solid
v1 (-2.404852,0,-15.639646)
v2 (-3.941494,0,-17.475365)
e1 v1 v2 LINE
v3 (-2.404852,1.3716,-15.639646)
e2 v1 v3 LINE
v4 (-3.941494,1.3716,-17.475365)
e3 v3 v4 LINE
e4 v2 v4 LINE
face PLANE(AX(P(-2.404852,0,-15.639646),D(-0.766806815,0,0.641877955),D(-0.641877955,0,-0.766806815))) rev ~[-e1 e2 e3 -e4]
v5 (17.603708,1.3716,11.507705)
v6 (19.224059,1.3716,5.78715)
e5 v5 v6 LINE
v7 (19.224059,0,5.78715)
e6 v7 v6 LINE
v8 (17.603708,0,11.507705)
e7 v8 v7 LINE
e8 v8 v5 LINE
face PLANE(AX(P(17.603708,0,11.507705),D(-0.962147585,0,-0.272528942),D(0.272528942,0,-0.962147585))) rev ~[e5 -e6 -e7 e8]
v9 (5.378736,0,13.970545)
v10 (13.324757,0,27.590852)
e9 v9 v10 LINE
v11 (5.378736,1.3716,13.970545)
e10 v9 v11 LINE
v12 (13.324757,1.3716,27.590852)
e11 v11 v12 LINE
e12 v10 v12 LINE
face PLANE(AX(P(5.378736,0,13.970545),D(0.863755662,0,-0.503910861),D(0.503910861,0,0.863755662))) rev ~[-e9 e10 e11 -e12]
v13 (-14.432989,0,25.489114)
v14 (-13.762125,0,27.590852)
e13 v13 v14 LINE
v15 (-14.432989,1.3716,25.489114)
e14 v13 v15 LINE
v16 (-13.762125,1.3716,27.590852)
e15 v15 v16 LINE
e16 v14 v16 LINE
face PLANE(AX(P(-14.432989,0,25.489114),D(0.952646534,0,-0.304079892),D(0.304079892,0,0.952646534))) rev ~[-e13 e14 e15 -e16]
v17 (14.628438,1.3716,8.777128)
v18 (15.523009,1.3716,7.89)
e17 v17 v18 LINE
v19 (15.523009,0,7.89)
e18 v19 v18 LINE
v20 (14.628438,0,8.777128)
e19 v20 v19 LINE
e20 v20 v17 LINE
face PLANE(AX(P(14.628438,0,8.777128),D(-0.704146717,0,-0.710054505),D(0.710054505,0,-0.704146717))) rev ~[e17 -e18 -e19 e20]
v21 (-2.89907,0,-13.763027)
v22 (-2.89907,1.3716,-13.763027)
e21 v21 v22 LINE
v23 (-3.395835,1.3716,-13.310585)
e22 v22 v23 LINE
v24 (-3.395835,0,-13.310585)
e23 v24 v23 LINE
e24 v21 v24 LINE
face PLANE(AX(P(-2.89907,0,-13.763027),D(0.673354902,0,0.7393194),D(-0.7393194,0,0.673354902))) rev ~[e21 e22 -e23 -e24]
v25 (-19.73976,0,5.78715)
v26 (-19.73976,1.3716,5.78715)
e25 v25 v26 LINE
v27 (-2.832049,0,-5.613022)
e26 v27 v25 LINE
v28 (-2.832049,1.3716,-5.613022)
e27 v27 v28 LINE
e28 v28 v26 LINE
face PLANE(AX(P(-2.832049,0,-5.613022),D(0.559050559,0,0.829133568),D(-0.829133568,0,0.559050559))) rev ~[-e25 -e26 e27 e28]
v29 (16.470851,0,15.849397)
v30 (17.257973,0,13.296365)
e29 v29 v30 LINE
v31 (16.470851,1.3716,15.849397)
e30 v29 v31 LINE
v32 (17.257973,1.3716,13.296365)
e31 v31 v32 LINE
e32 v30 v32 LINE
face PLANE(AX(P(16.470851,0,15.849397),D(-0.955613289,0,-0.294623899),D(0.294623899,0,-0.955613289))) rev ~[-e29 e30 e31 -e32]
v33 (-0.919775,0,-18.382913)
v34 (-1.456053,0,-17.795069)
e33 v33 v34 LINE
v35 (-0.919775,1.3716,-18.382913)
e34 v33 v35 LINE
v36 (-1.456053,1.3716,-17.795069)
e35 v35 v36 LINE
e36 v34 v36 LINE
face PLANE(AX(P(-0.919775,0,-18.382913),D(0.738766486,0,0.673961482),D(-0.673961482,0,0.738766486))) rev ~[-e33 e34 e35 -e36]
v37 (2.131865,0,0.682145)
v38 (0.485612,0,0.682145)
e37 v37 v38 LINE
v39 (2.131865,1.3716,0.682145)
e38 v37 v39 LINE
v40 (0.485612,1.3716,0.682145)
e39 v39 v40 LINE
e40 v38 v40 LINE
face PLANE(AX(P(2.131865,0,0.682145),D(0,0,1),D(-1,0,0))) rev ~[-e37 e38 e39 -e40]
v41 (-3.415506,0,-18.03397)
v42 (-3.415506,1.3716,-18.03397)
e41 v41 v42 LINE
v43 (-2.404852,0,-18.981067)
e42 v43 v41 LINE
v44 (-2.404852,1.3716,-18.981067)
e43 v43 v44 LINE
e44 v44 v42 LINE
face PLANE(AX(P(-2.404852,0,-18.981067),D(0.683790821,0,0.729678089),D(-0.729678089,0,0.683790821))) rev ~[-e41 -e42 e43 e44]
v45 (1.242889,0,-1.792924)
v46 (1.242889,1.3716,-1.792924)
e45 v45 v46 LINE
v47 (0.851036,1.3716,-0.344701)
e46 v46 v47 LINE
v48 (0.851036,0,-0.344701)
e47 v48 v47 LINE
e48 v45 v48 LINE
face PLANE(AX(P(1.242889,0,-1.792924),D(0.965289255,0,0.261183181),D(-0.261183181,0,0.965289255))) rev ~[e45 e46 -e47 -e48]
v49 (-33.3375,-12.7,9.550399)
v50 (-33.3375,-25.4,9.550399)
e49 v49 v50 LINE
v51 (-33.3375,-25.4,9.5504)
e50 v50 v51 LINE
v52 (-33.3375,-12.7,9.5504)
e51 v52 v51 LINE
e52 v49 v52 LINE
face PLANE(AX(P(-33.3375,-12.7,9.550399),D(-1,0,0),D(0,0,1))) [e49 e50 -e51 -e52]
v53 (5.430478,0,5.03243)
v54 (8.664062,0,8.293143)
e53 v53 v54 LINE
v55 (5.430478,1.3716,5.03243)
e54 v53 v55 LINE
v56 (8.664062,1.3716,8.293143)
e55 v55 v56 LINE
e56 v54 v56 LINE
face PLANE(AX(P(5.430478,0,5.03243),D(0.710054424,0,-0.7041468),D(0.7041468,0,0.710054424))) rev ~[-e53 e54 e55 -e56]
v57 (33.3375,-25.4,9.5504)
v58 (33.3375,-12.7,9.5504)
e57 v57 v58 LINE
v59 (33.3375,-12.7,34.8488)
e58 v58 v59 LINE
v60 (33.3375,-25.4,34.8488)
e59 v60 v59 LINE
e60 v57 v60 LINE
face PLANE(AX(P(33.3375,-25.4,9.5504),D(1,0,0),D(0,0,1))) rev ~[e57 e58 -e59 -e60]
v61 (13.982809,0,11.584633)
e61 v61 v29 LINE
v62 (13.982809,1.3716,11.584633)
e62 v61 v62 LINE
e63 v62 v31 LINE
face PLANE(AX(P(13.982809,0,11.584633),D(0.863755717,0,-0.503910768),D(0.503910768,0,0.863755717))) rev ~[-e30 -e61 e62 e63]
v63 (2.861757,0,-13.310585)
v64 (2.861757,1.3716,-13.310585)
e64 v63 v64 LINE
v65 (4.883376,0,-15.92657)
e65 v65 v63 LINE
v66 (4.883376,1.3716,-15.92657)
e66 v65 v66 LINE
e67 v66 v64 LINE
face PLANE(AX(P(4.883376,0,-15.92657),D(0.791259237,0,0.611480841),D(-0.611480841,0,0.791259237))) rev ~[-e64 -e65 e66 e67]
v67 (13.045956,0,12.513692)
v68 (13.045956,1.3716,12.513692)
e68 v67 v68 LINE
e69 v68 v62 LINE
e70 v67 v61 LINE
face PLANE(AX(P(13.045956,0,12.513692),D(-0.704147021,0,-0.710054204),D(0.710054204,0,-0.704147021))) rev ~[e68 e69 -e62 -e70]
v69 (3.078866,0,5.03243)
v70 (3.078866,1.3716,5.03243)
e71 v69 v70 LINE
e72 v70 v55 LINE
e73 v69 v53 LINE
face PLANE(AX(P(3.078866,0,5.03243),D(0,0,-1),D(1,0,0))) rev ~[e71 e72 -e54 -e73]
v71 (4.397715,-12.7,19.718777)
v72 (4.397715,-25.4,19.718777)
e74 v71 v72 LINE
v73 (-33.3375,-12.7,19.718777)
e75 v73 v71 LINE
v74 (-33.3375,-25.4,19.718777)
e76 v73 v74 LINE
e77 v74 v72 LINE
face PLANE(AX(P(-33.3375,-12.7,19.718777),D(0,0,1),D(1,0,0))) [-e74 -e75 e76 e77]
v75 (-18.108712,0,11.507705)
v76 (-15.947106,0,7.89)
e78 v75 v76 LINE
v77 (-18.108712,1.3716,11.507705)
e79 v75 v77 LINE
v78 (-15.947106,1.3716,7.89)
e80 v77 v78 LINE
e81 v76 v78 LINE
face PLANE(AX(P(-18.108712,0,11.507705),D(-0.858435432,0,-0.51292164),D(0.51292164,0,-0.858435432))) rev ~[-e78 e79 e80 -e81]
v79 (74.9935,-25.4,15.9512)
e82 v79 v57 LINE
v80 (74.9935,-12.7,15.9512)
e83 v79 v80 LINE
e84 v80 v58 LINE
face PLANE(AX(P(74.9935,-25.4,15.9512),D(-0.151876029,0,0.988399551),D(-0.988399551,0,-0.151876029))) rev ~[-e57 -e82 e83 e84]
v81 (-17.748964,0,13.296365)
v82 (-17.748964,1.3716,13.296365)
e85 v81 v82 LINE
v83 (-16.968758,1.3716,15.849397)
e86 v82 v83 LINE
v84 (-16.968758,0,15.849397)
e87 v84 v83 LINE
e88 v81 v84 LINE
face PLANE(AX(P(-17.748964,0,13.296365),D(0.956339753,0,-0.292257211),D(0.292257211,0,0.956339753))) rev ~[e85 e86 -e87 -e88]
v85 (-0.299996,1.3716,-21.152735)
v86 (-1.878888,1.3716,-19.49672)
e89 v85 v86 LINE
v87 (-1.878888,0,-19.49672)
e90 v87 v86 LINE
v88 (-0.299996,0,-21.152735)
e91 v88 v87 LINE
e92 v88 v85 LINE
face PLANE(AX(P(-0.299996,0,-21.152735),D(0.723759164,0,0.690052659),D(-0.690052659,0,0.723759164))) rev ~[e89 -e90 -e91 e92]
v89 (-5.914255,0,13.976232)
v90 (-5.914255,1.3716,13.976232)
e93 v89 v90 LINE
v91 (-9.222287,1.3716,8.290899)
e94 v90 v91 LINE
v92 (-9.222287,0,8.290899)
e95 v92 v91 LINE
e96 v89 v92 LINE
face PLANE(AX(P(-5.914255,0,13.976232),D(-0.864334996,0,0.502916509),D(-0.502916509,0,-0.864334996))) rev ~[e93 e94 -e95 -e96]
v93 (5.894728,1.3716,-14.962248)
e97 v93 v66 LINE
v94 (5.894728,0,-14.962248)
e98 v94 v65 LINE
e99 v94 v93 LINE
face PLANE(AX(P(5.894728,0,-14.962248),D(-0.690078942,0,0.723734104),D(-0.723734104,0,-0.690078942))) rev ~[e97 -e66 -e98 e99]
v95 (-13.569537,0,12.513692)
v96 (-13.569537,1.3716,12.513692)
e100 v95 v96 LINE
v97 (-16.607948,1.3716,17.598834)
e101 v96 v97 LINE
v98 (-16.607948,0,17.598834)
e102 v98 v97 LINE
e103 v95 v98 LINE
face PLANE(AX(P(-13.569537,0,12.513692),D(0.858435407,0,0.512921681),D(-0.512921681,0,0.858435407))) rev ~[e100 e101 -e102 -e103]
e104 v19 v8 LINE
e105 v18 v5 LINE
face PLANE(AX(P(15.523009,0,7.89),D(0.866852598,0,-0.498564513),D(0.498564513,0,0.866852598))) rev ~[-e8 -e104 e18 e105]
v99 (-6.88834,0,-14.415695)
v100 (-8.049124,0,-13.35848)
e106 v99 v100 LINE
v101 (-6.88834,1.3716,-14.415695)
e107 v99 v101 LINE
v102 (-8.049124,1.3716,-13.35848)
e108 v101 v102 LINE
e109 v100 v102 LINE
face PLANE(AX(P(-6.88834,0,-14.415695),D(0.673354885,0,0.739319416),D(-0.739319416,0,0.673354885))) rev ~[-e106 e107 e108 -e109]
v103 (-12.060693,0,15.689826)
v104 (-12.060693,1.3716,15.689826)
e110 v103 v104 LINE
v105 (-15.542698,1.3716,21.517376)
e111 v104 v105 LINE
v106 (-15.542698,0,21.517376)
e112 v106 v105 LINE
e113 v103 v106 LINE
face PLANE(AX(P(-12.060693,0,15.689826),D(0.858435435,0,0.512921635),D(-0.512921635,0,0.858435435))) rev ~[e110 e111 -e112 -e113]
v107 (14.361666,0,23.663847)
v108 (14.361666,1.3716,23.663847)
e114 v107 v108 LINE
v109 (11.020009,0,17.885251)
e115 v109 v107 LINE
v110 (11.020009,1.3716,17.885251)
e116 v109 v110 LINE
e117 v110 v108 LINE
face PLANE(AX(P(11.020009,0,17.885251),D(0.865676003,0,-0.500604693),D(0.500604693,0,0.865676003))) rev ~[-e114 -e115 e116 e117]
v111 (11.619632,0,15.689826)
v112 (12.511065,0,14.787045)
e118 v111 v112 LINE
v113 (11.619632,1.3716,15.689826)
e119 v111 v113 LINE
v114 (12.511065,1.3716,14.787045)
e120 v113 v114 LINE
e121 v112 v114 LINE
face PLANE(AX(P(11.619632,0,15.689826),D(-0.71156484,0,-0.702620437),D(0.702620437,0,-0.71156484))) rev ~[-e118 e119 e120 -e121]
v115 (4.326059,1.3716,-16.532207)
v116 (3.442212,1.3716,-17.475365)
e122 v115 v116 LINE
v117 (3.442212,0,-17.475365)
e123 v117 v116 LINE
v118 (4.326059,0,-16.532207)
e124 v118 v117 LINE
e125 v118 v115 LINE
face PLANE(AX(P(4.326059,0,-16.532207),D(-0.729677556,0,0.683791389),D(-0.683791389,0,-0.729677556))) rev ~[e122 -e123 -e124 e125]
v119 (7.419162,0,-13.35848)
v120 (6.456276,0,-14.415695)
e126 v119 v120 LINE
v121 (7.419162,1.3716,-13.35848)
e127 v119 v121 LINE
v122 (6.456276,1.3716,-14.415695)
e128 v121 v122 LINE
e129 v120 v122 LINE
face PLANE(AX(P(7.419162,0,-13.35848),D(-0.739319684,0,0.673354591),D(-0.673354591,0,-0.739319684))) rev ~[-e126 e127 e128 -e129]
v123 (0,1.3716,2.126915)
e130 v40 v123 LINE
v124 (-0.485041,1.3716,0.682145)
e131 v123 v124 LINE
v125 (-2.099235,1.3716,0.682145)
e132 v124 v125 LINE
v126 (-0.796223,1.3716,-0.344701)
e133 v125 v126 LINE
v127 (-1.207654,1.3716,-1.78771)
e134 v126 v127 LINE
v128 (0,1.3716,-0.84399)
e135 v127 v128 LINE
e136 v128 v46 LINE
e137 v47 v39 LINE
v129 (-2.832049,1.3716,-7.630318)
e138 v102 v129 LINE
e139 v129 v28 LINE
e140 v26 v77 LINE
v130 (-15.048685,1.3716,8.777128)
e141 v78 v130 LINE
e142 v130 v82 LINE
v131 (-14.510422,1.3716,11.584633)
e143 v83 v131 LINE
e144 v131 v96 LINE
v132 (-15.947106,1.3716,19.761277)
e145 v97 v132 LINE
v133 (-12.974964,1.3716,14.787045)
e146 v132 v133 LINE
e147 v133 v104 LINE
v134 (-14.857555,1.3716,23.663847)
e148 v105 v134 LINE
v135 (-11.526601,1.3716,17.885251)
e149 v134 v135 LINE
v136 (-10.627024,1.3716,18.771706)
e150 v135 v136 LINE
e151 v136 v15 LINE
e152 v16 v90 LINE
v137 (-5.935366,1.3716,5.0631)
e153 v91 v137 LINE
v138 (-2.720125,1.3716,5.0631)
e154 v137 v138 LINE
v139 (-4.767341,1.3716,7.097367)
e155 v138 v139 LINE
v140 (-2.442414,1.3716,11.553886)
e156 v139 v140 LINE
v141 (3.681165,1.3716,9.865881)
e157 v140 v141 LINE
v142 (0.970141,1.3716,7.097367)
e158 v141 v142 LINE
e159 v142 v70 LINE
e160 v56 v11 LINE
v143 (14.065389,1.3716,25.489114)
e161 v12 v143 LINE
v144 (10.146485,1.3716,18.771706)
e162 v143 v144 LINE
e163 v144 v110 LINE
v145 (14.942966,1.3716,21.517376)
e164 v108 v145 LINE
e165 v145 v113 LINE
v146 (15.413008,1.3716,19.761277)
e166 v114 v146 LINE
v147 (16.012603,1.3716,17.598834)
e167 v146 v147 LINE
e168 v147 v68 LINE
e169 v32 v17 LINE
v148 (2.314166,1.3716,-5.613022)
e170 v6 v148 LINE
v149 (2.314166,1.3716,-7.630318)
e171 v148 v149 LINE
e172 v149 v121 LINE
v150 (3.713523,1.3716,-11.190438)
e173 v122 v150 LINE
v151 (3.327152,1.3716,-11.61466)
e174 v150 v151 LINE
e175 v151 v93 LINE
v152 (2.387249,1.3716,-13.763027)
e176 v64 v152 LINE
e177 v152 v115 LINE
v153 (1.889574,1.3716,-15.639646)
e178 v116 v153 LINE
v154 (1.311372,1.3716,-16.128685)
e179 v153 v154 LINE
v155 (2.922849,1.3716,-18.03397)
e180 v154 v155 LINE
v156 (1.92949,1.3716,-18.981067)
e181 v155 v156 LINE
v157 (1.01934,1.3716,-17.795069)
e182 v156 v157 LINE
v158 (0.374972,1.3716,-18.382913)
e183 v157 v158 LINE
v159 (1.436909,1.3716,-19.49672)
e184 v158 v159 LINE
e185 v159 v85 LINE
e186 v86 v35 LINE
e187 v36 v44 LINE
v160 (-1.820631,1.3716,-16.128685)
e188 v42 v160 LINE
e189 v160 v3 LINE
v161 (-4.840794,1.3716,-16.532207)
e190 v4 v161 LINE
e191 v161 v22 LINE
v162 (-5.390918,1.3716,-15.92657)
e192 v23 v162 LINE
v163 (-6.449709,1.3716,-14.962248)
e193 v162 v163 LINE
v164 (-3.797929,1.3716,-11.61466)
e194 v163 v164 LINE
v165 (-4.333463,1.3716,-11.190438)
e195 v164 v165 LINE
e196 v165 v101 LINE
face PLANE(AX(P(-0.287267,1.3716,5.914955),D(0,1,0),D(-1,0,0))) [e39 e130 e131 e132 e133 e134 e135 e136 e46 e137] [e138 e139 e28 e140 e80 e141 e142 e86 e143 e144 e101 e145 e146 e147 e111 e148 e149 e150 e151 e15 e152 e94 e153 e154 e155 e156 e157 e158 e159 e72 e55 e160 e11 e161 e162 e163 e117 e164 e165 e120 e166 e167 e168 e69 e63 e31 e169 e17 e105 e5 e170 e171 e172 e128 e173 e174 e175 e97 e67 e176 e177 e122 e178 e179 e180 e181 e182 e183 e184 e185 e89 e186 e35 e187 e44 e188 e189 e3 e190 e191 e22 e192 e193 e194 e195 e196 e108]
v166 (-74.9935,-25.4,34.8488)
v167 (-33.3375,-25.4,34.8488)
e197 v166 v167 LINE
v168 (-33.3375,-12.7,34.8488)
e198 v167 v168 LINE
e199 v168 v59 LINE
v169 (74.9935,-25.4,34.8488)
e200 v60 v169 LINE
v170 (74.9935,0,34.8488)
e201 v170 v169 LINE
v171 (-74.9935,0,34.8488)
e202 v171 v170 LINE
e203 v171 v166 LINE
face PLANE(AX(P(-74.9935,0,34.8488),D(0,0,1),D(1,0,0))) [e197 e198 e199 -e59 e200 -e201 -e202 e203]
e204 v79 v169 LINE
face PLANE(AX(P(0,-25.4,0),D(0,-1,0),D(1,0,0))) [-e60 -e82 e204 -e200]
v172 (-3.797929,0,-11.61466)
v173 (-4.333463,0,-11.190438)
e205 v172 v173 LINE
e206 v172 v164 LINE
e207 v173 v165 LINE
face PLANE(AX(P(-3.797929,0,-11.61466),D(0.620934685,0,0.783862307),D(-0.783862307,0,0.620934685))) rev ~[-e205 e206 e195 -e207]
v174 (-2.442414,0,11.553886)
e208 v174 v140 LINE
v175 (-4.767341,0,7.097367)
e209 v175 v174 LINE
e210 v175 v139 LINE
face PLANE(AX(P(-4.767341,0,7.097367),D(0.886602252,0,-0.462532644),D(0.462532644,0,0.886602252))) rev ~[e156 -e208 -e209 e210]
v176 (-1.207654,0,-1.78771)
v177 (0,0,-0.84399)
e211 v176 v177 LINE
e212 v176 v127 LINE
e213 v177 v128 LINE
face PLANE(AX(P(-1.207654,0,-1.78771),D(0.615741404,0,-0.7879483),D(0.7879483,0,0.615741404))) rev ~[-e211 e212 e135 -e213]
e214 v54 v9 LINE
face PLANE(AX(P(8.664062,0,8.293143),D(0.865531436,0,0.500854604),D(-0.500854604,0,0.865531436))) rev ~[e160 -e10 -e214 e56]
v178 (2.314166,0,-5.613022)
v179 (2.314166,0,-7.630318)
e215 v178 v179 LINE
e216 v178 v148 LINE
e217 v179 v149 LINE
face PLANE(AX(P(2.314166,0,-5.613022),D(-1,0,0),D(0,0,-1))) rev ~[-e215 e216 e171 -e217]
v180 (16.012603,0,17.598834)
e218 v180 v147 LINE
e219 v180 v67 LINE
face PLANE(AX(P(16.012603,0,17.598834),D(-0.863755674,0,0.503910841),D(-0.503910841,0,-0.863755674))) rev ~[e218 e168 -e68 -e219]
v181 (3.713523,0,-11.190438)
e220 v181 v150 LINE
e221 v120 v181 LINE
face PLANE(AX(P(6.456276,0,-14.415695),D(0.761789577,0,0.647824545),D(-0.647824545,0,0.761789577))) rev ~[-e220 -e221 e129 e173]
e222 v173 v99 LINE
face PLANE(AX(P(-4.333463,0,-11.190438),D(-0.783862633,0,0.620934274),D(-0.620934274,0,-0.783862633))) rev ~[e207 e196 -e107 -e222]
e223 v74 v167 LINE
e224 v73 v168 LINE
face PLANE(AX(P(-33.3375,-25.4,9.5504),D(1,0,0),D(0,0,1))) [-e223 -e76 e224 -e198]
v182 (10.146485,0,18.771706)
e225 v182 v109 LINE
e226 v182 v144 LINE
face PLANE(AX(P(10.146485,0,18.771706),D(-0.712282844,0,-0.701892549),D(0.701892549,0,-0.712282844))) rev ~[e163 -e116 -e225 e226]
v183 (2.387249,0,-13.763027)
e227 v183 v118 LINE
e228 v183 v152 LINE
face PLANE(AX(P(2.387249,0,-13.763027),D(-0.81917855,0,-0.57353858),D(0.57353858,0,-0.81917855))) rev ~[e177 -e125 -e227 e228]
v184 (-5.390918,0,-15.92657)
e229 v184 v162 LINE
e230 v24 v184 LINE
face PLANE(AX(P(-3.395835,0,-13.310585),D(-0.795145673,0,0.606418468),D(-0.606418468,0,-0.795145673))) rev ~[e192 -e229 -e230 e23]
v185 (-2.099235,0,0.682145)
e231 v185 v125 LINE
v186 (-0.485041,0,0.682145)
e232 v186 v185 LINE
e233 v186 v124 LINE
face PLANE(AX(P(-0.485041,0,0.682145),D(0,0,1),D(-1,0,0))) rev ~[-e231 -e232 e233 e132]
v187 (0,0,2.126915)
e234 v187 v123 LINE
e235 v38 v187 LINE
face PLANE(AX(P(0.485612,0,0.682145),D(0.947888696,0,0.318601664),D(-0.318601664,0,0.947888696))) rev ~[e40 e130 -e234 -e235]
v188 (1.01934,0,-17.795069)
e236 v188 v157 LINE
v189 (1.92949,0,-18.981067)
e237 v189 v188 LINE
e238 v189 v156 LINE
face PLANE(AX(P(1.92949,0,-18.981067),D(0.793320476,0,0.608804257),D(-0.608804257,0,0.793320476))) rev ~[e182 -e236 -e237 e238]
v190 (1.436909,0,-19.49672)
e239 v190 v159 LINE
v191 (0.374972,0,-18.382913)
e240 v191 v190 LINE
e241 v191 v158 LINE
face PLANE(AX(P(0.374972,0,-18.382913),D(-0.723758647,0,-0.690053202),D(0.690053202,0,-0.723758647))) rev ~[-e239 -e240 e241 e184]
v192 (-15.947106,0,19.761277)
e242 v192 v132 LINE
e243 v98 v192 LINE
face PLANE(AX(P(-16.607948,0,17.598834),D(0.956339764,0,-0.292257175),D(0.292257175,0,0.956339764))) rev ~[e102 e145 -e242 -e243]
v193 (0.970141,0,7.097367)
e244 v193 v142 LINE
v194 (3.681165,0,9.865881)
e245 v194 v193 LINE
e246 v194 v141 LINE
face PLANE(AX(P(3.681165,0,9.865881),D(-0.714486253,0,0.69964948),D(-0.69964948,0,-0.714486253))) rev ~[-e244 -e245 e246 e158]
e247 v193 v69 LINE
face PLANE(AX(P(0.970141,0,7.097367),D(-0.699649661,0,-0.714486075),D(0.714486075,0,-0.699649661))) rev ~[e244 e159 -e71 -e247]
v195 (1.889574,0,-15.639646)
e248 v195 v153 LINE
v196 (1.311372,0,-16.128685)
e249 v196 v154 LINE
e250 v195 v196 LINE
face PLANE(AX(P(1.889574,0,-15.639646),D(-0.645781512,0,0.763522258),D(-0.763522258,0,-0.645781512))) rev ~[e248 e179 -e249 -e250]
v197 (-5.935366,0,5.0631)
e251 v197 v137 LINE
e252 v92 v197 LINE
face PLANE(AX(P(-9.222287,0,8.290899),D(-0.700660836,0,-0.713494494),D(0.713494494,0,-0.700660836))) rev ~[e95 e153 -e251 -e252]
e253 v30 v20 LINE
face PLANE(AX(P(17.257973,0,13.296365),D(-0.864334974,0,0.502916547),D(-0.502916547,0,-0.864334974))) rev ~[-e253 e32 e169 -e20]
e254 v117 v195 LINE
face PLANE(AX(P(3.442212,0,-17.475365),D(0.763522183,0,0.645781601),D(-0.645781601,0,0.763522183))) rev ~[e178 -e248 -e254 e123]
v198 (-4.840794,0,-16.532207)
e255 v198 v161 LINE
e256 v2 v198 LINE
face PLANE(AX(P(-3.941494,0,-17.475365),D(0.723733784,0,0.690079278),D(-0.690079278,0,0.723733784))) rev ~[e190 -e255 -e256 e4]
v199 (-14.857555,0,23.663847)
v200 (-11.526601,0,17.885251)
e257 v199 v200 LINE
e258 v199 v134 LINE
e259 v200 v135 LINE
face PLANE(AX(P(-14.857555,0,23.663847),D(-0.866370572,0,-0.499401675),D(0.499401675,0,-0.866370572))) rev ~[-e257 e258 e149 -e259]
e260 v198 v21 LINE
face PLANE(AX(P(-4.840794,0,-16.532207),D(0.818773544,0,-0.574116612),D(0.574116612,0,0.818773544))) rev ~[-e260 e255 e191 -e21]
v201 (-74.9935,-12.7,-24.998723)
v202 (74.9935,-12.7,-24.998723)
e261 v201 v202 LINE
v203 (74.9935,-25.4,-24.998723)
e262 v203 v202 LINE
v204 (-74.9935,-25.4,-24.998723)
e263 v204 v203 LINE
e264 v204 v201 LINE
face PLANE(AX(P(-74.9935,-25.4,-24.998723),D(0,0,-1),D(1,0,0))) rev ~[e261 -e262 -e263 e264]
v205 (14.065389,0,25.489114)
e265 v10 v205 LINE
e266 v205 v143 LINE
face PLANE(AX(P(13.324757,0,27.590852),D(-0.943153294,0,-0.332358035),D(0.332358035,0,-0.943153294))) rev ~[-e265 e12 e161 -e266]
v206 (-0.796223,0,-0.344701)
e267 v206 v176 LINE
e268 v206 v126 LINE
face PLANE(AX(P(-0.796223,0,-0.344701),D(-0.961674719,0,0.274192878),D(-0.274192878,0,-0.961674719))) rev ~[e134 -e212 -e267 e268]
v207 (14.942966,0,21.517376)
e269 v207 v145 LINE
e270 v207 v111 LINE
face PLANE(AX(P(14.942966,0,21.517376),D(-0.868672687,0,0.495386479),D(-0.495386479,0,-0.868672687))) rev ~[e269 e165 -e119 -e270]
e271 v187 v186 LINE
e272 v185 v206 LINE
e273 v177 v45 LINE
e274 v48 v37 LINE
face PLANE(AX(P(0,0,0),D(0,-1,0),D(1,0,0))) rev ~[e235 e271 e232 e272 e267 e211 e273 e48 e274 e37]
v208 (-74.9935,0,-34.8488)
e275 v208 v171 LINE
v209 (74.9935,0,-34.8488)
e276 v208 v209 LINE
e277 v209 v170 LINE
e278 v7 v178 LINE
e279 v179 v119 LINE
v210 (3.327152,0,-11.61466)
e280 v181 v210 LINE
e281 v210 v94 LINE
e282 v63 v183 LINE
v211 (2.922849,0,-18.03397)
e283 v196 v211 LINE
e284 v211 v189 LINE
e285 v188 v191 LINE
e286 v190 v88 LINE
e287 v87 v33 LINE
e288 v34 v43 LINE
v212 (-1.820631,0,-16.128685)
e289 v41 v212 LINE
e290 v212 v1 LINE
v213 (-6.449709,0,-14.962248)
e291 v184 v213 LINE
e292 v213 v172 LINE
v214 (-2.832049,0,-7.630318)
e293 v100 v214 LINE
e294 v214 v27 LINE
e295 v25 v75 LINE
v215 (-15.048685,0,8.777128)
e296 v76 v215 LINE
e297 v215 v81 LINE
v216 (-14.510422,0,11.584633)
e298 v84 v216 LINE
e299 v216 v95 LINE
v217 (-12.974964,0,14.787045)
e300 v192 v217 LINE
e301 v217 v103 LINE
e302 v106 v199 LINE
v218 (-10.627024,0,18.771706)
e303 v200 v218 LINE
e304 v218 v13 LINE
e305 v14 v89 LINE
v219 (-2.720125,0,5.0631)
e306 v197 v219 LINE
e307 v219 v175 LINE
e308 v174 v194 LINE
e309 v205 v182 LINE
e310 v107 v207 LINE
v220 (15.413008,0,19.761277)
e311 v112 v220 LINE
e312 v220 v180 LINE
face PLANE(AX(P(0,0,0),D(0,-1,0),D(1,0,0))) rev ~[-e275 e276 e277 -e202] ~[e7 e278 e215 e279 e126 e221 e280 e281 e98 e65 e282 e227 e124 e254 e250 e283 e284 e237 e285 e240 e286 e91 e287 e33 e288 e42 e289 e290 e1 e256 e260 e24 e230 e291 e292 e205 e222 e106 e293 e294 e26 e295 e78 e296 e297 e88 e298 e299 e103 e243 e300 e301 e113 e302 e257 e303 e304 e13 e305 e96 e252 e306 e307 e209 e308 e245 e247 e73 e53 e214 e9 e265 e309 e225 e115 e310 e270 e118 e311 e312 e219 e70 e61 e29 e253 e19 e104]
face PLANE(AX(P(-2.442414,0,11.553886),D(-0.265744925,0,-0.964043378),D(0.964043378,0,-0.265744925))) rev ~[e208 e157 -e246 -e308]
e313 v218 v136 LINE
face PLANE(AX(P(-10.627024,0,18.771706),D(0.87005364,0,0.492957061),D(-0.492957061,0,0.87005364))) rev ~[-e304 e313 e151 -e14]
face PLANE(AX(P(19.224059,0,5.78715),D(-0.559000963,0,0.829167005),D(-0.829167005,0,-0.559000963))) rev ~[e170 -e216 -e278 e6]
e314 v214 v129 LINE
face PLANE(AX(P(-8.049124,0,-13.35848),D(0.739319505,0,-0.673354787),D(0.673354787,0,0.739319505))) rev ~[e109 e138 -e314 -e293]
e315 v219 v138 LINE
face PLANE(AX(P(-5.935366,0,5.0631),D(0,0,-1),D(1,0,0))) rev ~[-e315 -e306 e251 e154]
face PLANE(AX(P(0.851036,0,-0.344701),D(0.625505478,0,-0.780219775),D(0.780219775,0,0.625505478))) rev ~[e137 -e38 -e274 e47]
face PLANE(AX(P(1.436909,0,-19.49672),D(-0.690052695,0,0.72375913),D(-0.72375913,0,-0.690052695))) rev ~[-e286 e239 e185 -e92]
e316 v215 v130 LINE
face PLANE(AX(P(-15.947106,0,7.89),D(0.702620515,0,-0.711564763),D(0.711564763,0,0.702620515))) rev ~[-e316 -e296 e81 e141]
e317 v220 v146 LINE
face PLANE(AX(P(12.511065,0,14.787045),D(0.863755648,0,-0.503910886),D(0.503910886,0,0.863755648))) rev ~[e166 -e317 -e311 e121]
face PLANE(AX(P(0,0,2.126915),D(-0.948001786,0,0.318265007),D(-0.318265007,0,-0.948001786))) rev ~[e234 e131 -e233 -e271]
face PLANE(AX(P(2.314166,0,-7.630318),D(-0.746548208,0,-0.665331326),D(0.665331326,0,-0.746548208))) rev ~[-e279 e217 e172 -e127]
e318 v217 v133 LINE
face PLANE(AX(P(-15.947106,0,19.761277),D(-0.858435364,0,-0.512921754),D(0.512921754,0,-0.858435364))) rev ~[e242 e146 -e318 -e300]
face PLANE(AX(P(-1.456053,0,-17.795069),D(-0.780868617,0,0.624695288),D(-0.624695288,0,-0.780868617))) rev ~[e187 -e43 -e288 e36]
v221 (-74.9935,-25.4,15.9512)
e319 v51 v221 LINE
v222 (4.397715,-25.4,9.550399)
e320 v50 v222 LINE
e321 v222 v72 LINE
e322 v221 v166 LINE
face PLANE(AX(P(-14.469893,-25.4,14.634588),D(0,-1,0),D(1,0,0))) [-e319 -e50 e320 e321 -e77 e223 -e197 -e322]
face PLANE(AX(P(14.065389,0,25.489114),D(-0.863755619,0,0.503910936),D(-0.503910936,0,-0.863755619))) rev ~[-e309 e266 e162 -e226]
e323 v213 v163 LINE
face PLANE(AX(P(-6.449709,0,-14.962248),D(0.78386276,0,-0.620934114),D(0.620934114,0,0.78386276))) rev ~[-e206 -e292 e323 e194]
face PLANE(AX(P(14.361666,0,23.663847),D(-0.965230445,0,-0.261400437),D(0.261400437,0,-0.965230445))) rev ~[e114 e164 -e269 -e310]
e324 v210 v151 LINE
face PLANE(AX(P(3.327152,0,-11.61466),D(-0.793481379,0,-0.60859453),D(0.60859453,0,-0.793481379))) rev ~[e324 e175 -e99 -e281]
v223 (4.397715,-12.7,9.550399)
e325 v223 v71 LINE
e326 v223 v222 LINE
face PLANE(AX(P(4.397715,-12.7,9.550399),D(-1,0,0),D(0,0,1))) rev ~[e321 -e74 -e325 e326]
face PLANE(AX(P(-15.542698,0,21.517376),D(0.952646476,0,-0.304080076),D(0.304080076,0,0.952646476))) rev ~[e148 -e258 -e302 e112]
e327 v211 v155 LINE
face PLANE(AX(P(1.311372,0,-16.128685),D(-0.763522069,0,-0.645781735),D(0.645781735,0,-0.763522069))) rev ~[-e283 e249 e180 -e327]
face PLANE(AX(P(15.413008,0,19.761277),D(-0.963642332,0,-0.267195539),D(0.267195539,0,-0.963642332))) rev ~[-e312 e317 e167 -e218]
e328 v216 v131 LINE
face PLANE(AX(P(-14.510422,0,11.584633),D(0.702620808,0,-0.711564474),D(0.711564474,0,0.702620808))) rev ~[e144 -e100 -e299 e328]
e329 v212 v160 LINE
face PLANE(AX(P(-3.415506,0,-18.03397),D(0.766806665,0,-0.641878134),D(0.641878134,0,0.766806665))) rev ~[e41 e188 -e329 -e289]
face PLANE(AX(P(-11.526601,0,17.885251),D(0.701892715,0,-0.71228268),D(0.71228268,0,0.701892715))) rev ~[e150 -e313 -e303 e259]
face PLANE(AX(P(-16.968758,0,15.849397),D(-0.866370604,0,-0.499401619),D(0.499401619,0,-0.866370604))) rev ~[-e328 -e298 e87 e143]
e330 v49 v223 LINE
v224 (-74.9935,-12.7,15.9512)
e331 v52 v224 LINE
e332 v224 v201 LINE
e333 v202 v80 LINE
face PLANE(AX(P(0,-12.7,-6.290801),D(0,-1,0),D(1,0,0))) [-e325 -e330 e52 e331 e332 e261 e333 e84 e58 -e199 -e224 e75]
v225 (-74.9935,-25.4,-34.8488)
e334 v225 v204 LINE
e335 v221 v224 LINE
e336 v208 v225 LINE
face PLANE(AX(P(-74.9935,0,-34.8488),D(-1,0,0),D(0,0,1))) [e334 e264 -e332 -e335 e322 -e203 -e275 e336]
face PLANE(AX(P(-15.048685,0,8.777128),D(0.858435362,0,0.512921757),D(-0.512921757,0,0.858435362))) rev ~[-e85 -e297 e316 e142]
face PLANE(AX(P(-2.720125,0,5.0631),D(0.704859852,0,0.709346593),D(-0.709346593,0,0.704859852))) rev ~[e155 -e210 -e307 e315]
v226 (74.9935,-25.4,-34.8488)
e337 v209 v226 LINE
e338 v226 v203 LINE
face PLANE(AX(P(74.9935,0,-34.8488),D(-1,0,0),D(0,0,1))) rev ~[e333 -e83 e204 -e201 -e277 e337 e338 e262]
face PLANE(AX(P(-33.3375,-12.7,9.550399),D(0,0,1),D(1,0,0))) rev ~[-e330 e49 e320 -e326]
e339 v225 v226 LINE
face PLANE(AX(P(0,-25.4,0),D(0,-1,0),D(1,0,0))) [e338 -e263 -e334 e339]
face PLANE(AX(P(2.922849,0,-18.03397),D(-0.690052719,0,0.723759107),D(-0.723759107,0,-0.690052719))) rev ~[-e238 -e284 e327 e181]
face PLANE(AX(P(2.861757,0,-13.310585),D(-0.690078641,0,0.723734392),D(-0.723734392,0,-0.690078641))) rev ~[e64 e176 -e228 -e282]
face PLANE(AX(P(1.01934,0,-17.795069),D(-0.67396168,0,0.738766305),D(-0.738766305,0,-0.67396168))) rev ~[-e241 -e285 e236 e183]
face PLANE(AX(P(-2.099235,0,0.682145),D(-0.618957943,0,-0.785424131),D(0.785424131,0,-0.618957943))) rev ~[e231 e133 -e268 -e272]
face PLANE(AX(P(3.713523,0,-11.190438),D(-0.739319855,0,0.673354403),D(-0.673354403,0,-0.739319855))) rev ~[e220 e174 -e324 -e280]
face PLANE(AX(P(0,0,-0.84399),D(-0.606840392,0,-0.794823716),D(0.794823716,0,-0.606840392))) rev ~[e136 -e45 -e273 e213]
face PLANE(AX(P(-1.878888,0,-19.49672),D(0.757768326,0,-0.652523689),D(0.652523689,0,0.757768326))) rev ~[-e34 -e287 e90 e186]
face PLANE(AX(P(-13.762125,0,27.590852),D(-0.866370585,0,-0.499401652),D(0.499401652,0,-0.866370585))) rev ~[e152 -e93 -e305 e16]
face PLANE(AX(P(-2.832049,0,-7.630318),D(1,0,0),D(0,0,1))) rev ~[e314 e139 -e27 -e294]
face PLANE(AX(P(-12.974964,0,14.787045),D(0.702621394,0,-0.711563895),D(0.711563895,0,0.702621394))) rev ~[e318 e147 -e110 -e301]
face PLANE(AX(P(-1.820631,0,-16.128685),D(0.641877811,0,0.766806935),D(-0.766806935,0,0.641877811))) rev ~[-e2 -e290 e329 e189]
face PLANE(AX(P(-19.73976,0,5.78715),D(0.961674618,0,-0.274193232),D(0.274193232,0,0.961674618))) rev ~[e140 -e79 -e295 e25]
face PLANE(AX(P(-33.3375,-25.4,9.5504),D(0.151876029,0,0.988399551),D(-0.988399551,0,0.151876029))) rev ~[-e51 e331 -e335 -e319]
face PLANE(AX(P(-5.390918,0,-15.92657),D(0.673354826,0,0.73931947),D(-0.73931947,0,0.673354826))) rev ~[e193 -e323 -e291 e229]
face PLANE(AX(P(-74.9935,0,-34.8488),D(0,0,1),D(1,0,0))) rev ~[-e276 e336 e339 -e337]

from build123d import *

# Parameters (mm, degrees)
F0_W     = 149.987
F0_H     = 69.6976
F1_DEPTH = 25.4
F2_W     = 66.675
F2_H     = 25.2984
F3_DEPTH = 12.7
F5_DEPTH = 12.7
F6_W     = 37.735215
F6_H     = 10.168377
F7_DEPTH = 12.7
F9_DEPTH = 1.3716


with BuildPart() as f1:
    # F0 (on Front) → F1 (new body)
    with BuildSketch(Plane.XZ):
        Rectangle(F0_W, F0_H)
    extrude(amount=F1_DEPTH)

    # F2 (on face) → F3 (cut)
    with BuildSketch(Plane.XZ.offset(25.4)):
        with Locations((0, 22.1996)):
            Rectangle(F2_W, F2_H)
    extrude(amount=-F3_DEPTH, mode=Mode.SUBTRACT)

    # F4 (on face) → F5 (cut)
    with BuildSketch(Plane.XZ.offset(25.4)):
        Polygon((33.3375, 9.5504), (-33.3375, 9.5504), (-74.9935, 15.9512), (-74.9935, -24.998723), (74.9935, -24.998723), (74.9935, 15.9512), align=None)
    extrude(amount=-F5_DEPTH, mode=Mode.SUBTRACT)

    # F6 (on face) → F7 (join)
    with BuildSketch(Plane.XZ.offset(12.7)):
        with Locations((-14.469893, 14.634588)):
            Rectangle(F6_W, F6_H)
    extrude(amount=F7_DEPTH)

    # F8 (on face) → F9 (join)
    with BuildSketch(Plane(origin=(0, 0, 0), x_dir=(-1, 0, 0), z_dir=(0, 1, 0))):
        Polygon((-5.378736, 13.970545), (-13.324757, 27.590852), (-14.065389, 25.489114), (-10.146485, 18.771706), (-11.020009, 17.885251), (-14.361666, 23.663847), (-14.942966, 21.517376), (-11.619632, 15.689826), (-12.511065, 14.787045), (-15.413008, 19.761277), (-16.012603, 17.598834), (-13.045956, 12.513692), (-13.982809, 11.584633), (-16.470851, 15.849397), (-17.257973, 13.296365), (-14.628438, 8.777128), (-15.523009, 7.89), (-17.603708, 11.507705), (-19.224059, 5.78715), (-2.314166, -5.613022), (-2.314166, -7.630318), (-7.419162, -13.35848), (-6.456276, -14.415695), (-3.713523, -11.190438), (-3.327152, -11.61466), (-5.894728, -14.962248), (-4.883376, -15.92657), (-2.861757, -13.310585), (-2.387249, -13.763027), (-4.326059, -16.532207), (-3.442212, -17.475365), (-1.889574, -15.639646), (-1.311372, -16.128685), (-2.922849, -18.03397), (-1.92949, -18.981067), (-1.01934, -17.795069), (-0.374972, -18.382913), (-1.436909, -19.49672), (0.299996, -21.152735), (1.878888, -19.49672), (0.919775, -18.382913), (1.456053, -17.795069), (2.404852, -18.981067), (3.415506, -18.03397), (1.820631, -16.128685), (2.404852, -15.639646), (3.941494, -17.475365), (4.840794, -16.532207), (2.89907, -13.763027), (3.395835, -13.310585), (5.390918, -15.92657), (6.449709, -14.962248), (3.797929, -11.61466), (4.333463, -11.190438), (6.88834, -14.415695), (8.049124, -13.35848), (2.832049, -7.630318), (2.832049, -5.613022), (19.73976, 5.78715), (18.108712, 11.507705), (15.947106, 7.89), (15.048685, 8.777128), (17.748964, 13.296365), (16.968758, 15.849397), (14.510422, 11.584633), (13.569537, 12.513692), (16.607948, 17.598834), (15.947106, 19.761277), (12.974964, 14.787045), (12.060693, 15.689826), (15.542698, 21.517376), (14.857555, 23.663847), (11.526601, 17.885251), (10.627024, 18.771706), (14.432989, 25.489114), (13.762125, 27.590852), (5.914255, 13.976232), (9.222287, 8.290899), (5.935366, 5.0631), (2.720125, 5.0631), (4.767341, 7.097367), (2.442414, 11.553886), (-3.681165, 9.865881), (-0.970141, 7.097367), (-3.078866, 5.03243), (-5.430478, 5.03243), (-8.664062, 8.293143), align=None)
        Polygon((-0.485612, 0.682145), (0, 2.126915), (0.485041, 0.682145), (2.099235, 0.682145), (0.796223, -0.344701), (1.207654, -1.78771), (0, -0.84399), (-1.242889, -1.792924), (-0.851036, -0.344701), (-2.131865, 0.682145), align=None, mode=Mode.SUBTRACT)
    extrude(amount=F9_DEPTH)


solid = f1.part
